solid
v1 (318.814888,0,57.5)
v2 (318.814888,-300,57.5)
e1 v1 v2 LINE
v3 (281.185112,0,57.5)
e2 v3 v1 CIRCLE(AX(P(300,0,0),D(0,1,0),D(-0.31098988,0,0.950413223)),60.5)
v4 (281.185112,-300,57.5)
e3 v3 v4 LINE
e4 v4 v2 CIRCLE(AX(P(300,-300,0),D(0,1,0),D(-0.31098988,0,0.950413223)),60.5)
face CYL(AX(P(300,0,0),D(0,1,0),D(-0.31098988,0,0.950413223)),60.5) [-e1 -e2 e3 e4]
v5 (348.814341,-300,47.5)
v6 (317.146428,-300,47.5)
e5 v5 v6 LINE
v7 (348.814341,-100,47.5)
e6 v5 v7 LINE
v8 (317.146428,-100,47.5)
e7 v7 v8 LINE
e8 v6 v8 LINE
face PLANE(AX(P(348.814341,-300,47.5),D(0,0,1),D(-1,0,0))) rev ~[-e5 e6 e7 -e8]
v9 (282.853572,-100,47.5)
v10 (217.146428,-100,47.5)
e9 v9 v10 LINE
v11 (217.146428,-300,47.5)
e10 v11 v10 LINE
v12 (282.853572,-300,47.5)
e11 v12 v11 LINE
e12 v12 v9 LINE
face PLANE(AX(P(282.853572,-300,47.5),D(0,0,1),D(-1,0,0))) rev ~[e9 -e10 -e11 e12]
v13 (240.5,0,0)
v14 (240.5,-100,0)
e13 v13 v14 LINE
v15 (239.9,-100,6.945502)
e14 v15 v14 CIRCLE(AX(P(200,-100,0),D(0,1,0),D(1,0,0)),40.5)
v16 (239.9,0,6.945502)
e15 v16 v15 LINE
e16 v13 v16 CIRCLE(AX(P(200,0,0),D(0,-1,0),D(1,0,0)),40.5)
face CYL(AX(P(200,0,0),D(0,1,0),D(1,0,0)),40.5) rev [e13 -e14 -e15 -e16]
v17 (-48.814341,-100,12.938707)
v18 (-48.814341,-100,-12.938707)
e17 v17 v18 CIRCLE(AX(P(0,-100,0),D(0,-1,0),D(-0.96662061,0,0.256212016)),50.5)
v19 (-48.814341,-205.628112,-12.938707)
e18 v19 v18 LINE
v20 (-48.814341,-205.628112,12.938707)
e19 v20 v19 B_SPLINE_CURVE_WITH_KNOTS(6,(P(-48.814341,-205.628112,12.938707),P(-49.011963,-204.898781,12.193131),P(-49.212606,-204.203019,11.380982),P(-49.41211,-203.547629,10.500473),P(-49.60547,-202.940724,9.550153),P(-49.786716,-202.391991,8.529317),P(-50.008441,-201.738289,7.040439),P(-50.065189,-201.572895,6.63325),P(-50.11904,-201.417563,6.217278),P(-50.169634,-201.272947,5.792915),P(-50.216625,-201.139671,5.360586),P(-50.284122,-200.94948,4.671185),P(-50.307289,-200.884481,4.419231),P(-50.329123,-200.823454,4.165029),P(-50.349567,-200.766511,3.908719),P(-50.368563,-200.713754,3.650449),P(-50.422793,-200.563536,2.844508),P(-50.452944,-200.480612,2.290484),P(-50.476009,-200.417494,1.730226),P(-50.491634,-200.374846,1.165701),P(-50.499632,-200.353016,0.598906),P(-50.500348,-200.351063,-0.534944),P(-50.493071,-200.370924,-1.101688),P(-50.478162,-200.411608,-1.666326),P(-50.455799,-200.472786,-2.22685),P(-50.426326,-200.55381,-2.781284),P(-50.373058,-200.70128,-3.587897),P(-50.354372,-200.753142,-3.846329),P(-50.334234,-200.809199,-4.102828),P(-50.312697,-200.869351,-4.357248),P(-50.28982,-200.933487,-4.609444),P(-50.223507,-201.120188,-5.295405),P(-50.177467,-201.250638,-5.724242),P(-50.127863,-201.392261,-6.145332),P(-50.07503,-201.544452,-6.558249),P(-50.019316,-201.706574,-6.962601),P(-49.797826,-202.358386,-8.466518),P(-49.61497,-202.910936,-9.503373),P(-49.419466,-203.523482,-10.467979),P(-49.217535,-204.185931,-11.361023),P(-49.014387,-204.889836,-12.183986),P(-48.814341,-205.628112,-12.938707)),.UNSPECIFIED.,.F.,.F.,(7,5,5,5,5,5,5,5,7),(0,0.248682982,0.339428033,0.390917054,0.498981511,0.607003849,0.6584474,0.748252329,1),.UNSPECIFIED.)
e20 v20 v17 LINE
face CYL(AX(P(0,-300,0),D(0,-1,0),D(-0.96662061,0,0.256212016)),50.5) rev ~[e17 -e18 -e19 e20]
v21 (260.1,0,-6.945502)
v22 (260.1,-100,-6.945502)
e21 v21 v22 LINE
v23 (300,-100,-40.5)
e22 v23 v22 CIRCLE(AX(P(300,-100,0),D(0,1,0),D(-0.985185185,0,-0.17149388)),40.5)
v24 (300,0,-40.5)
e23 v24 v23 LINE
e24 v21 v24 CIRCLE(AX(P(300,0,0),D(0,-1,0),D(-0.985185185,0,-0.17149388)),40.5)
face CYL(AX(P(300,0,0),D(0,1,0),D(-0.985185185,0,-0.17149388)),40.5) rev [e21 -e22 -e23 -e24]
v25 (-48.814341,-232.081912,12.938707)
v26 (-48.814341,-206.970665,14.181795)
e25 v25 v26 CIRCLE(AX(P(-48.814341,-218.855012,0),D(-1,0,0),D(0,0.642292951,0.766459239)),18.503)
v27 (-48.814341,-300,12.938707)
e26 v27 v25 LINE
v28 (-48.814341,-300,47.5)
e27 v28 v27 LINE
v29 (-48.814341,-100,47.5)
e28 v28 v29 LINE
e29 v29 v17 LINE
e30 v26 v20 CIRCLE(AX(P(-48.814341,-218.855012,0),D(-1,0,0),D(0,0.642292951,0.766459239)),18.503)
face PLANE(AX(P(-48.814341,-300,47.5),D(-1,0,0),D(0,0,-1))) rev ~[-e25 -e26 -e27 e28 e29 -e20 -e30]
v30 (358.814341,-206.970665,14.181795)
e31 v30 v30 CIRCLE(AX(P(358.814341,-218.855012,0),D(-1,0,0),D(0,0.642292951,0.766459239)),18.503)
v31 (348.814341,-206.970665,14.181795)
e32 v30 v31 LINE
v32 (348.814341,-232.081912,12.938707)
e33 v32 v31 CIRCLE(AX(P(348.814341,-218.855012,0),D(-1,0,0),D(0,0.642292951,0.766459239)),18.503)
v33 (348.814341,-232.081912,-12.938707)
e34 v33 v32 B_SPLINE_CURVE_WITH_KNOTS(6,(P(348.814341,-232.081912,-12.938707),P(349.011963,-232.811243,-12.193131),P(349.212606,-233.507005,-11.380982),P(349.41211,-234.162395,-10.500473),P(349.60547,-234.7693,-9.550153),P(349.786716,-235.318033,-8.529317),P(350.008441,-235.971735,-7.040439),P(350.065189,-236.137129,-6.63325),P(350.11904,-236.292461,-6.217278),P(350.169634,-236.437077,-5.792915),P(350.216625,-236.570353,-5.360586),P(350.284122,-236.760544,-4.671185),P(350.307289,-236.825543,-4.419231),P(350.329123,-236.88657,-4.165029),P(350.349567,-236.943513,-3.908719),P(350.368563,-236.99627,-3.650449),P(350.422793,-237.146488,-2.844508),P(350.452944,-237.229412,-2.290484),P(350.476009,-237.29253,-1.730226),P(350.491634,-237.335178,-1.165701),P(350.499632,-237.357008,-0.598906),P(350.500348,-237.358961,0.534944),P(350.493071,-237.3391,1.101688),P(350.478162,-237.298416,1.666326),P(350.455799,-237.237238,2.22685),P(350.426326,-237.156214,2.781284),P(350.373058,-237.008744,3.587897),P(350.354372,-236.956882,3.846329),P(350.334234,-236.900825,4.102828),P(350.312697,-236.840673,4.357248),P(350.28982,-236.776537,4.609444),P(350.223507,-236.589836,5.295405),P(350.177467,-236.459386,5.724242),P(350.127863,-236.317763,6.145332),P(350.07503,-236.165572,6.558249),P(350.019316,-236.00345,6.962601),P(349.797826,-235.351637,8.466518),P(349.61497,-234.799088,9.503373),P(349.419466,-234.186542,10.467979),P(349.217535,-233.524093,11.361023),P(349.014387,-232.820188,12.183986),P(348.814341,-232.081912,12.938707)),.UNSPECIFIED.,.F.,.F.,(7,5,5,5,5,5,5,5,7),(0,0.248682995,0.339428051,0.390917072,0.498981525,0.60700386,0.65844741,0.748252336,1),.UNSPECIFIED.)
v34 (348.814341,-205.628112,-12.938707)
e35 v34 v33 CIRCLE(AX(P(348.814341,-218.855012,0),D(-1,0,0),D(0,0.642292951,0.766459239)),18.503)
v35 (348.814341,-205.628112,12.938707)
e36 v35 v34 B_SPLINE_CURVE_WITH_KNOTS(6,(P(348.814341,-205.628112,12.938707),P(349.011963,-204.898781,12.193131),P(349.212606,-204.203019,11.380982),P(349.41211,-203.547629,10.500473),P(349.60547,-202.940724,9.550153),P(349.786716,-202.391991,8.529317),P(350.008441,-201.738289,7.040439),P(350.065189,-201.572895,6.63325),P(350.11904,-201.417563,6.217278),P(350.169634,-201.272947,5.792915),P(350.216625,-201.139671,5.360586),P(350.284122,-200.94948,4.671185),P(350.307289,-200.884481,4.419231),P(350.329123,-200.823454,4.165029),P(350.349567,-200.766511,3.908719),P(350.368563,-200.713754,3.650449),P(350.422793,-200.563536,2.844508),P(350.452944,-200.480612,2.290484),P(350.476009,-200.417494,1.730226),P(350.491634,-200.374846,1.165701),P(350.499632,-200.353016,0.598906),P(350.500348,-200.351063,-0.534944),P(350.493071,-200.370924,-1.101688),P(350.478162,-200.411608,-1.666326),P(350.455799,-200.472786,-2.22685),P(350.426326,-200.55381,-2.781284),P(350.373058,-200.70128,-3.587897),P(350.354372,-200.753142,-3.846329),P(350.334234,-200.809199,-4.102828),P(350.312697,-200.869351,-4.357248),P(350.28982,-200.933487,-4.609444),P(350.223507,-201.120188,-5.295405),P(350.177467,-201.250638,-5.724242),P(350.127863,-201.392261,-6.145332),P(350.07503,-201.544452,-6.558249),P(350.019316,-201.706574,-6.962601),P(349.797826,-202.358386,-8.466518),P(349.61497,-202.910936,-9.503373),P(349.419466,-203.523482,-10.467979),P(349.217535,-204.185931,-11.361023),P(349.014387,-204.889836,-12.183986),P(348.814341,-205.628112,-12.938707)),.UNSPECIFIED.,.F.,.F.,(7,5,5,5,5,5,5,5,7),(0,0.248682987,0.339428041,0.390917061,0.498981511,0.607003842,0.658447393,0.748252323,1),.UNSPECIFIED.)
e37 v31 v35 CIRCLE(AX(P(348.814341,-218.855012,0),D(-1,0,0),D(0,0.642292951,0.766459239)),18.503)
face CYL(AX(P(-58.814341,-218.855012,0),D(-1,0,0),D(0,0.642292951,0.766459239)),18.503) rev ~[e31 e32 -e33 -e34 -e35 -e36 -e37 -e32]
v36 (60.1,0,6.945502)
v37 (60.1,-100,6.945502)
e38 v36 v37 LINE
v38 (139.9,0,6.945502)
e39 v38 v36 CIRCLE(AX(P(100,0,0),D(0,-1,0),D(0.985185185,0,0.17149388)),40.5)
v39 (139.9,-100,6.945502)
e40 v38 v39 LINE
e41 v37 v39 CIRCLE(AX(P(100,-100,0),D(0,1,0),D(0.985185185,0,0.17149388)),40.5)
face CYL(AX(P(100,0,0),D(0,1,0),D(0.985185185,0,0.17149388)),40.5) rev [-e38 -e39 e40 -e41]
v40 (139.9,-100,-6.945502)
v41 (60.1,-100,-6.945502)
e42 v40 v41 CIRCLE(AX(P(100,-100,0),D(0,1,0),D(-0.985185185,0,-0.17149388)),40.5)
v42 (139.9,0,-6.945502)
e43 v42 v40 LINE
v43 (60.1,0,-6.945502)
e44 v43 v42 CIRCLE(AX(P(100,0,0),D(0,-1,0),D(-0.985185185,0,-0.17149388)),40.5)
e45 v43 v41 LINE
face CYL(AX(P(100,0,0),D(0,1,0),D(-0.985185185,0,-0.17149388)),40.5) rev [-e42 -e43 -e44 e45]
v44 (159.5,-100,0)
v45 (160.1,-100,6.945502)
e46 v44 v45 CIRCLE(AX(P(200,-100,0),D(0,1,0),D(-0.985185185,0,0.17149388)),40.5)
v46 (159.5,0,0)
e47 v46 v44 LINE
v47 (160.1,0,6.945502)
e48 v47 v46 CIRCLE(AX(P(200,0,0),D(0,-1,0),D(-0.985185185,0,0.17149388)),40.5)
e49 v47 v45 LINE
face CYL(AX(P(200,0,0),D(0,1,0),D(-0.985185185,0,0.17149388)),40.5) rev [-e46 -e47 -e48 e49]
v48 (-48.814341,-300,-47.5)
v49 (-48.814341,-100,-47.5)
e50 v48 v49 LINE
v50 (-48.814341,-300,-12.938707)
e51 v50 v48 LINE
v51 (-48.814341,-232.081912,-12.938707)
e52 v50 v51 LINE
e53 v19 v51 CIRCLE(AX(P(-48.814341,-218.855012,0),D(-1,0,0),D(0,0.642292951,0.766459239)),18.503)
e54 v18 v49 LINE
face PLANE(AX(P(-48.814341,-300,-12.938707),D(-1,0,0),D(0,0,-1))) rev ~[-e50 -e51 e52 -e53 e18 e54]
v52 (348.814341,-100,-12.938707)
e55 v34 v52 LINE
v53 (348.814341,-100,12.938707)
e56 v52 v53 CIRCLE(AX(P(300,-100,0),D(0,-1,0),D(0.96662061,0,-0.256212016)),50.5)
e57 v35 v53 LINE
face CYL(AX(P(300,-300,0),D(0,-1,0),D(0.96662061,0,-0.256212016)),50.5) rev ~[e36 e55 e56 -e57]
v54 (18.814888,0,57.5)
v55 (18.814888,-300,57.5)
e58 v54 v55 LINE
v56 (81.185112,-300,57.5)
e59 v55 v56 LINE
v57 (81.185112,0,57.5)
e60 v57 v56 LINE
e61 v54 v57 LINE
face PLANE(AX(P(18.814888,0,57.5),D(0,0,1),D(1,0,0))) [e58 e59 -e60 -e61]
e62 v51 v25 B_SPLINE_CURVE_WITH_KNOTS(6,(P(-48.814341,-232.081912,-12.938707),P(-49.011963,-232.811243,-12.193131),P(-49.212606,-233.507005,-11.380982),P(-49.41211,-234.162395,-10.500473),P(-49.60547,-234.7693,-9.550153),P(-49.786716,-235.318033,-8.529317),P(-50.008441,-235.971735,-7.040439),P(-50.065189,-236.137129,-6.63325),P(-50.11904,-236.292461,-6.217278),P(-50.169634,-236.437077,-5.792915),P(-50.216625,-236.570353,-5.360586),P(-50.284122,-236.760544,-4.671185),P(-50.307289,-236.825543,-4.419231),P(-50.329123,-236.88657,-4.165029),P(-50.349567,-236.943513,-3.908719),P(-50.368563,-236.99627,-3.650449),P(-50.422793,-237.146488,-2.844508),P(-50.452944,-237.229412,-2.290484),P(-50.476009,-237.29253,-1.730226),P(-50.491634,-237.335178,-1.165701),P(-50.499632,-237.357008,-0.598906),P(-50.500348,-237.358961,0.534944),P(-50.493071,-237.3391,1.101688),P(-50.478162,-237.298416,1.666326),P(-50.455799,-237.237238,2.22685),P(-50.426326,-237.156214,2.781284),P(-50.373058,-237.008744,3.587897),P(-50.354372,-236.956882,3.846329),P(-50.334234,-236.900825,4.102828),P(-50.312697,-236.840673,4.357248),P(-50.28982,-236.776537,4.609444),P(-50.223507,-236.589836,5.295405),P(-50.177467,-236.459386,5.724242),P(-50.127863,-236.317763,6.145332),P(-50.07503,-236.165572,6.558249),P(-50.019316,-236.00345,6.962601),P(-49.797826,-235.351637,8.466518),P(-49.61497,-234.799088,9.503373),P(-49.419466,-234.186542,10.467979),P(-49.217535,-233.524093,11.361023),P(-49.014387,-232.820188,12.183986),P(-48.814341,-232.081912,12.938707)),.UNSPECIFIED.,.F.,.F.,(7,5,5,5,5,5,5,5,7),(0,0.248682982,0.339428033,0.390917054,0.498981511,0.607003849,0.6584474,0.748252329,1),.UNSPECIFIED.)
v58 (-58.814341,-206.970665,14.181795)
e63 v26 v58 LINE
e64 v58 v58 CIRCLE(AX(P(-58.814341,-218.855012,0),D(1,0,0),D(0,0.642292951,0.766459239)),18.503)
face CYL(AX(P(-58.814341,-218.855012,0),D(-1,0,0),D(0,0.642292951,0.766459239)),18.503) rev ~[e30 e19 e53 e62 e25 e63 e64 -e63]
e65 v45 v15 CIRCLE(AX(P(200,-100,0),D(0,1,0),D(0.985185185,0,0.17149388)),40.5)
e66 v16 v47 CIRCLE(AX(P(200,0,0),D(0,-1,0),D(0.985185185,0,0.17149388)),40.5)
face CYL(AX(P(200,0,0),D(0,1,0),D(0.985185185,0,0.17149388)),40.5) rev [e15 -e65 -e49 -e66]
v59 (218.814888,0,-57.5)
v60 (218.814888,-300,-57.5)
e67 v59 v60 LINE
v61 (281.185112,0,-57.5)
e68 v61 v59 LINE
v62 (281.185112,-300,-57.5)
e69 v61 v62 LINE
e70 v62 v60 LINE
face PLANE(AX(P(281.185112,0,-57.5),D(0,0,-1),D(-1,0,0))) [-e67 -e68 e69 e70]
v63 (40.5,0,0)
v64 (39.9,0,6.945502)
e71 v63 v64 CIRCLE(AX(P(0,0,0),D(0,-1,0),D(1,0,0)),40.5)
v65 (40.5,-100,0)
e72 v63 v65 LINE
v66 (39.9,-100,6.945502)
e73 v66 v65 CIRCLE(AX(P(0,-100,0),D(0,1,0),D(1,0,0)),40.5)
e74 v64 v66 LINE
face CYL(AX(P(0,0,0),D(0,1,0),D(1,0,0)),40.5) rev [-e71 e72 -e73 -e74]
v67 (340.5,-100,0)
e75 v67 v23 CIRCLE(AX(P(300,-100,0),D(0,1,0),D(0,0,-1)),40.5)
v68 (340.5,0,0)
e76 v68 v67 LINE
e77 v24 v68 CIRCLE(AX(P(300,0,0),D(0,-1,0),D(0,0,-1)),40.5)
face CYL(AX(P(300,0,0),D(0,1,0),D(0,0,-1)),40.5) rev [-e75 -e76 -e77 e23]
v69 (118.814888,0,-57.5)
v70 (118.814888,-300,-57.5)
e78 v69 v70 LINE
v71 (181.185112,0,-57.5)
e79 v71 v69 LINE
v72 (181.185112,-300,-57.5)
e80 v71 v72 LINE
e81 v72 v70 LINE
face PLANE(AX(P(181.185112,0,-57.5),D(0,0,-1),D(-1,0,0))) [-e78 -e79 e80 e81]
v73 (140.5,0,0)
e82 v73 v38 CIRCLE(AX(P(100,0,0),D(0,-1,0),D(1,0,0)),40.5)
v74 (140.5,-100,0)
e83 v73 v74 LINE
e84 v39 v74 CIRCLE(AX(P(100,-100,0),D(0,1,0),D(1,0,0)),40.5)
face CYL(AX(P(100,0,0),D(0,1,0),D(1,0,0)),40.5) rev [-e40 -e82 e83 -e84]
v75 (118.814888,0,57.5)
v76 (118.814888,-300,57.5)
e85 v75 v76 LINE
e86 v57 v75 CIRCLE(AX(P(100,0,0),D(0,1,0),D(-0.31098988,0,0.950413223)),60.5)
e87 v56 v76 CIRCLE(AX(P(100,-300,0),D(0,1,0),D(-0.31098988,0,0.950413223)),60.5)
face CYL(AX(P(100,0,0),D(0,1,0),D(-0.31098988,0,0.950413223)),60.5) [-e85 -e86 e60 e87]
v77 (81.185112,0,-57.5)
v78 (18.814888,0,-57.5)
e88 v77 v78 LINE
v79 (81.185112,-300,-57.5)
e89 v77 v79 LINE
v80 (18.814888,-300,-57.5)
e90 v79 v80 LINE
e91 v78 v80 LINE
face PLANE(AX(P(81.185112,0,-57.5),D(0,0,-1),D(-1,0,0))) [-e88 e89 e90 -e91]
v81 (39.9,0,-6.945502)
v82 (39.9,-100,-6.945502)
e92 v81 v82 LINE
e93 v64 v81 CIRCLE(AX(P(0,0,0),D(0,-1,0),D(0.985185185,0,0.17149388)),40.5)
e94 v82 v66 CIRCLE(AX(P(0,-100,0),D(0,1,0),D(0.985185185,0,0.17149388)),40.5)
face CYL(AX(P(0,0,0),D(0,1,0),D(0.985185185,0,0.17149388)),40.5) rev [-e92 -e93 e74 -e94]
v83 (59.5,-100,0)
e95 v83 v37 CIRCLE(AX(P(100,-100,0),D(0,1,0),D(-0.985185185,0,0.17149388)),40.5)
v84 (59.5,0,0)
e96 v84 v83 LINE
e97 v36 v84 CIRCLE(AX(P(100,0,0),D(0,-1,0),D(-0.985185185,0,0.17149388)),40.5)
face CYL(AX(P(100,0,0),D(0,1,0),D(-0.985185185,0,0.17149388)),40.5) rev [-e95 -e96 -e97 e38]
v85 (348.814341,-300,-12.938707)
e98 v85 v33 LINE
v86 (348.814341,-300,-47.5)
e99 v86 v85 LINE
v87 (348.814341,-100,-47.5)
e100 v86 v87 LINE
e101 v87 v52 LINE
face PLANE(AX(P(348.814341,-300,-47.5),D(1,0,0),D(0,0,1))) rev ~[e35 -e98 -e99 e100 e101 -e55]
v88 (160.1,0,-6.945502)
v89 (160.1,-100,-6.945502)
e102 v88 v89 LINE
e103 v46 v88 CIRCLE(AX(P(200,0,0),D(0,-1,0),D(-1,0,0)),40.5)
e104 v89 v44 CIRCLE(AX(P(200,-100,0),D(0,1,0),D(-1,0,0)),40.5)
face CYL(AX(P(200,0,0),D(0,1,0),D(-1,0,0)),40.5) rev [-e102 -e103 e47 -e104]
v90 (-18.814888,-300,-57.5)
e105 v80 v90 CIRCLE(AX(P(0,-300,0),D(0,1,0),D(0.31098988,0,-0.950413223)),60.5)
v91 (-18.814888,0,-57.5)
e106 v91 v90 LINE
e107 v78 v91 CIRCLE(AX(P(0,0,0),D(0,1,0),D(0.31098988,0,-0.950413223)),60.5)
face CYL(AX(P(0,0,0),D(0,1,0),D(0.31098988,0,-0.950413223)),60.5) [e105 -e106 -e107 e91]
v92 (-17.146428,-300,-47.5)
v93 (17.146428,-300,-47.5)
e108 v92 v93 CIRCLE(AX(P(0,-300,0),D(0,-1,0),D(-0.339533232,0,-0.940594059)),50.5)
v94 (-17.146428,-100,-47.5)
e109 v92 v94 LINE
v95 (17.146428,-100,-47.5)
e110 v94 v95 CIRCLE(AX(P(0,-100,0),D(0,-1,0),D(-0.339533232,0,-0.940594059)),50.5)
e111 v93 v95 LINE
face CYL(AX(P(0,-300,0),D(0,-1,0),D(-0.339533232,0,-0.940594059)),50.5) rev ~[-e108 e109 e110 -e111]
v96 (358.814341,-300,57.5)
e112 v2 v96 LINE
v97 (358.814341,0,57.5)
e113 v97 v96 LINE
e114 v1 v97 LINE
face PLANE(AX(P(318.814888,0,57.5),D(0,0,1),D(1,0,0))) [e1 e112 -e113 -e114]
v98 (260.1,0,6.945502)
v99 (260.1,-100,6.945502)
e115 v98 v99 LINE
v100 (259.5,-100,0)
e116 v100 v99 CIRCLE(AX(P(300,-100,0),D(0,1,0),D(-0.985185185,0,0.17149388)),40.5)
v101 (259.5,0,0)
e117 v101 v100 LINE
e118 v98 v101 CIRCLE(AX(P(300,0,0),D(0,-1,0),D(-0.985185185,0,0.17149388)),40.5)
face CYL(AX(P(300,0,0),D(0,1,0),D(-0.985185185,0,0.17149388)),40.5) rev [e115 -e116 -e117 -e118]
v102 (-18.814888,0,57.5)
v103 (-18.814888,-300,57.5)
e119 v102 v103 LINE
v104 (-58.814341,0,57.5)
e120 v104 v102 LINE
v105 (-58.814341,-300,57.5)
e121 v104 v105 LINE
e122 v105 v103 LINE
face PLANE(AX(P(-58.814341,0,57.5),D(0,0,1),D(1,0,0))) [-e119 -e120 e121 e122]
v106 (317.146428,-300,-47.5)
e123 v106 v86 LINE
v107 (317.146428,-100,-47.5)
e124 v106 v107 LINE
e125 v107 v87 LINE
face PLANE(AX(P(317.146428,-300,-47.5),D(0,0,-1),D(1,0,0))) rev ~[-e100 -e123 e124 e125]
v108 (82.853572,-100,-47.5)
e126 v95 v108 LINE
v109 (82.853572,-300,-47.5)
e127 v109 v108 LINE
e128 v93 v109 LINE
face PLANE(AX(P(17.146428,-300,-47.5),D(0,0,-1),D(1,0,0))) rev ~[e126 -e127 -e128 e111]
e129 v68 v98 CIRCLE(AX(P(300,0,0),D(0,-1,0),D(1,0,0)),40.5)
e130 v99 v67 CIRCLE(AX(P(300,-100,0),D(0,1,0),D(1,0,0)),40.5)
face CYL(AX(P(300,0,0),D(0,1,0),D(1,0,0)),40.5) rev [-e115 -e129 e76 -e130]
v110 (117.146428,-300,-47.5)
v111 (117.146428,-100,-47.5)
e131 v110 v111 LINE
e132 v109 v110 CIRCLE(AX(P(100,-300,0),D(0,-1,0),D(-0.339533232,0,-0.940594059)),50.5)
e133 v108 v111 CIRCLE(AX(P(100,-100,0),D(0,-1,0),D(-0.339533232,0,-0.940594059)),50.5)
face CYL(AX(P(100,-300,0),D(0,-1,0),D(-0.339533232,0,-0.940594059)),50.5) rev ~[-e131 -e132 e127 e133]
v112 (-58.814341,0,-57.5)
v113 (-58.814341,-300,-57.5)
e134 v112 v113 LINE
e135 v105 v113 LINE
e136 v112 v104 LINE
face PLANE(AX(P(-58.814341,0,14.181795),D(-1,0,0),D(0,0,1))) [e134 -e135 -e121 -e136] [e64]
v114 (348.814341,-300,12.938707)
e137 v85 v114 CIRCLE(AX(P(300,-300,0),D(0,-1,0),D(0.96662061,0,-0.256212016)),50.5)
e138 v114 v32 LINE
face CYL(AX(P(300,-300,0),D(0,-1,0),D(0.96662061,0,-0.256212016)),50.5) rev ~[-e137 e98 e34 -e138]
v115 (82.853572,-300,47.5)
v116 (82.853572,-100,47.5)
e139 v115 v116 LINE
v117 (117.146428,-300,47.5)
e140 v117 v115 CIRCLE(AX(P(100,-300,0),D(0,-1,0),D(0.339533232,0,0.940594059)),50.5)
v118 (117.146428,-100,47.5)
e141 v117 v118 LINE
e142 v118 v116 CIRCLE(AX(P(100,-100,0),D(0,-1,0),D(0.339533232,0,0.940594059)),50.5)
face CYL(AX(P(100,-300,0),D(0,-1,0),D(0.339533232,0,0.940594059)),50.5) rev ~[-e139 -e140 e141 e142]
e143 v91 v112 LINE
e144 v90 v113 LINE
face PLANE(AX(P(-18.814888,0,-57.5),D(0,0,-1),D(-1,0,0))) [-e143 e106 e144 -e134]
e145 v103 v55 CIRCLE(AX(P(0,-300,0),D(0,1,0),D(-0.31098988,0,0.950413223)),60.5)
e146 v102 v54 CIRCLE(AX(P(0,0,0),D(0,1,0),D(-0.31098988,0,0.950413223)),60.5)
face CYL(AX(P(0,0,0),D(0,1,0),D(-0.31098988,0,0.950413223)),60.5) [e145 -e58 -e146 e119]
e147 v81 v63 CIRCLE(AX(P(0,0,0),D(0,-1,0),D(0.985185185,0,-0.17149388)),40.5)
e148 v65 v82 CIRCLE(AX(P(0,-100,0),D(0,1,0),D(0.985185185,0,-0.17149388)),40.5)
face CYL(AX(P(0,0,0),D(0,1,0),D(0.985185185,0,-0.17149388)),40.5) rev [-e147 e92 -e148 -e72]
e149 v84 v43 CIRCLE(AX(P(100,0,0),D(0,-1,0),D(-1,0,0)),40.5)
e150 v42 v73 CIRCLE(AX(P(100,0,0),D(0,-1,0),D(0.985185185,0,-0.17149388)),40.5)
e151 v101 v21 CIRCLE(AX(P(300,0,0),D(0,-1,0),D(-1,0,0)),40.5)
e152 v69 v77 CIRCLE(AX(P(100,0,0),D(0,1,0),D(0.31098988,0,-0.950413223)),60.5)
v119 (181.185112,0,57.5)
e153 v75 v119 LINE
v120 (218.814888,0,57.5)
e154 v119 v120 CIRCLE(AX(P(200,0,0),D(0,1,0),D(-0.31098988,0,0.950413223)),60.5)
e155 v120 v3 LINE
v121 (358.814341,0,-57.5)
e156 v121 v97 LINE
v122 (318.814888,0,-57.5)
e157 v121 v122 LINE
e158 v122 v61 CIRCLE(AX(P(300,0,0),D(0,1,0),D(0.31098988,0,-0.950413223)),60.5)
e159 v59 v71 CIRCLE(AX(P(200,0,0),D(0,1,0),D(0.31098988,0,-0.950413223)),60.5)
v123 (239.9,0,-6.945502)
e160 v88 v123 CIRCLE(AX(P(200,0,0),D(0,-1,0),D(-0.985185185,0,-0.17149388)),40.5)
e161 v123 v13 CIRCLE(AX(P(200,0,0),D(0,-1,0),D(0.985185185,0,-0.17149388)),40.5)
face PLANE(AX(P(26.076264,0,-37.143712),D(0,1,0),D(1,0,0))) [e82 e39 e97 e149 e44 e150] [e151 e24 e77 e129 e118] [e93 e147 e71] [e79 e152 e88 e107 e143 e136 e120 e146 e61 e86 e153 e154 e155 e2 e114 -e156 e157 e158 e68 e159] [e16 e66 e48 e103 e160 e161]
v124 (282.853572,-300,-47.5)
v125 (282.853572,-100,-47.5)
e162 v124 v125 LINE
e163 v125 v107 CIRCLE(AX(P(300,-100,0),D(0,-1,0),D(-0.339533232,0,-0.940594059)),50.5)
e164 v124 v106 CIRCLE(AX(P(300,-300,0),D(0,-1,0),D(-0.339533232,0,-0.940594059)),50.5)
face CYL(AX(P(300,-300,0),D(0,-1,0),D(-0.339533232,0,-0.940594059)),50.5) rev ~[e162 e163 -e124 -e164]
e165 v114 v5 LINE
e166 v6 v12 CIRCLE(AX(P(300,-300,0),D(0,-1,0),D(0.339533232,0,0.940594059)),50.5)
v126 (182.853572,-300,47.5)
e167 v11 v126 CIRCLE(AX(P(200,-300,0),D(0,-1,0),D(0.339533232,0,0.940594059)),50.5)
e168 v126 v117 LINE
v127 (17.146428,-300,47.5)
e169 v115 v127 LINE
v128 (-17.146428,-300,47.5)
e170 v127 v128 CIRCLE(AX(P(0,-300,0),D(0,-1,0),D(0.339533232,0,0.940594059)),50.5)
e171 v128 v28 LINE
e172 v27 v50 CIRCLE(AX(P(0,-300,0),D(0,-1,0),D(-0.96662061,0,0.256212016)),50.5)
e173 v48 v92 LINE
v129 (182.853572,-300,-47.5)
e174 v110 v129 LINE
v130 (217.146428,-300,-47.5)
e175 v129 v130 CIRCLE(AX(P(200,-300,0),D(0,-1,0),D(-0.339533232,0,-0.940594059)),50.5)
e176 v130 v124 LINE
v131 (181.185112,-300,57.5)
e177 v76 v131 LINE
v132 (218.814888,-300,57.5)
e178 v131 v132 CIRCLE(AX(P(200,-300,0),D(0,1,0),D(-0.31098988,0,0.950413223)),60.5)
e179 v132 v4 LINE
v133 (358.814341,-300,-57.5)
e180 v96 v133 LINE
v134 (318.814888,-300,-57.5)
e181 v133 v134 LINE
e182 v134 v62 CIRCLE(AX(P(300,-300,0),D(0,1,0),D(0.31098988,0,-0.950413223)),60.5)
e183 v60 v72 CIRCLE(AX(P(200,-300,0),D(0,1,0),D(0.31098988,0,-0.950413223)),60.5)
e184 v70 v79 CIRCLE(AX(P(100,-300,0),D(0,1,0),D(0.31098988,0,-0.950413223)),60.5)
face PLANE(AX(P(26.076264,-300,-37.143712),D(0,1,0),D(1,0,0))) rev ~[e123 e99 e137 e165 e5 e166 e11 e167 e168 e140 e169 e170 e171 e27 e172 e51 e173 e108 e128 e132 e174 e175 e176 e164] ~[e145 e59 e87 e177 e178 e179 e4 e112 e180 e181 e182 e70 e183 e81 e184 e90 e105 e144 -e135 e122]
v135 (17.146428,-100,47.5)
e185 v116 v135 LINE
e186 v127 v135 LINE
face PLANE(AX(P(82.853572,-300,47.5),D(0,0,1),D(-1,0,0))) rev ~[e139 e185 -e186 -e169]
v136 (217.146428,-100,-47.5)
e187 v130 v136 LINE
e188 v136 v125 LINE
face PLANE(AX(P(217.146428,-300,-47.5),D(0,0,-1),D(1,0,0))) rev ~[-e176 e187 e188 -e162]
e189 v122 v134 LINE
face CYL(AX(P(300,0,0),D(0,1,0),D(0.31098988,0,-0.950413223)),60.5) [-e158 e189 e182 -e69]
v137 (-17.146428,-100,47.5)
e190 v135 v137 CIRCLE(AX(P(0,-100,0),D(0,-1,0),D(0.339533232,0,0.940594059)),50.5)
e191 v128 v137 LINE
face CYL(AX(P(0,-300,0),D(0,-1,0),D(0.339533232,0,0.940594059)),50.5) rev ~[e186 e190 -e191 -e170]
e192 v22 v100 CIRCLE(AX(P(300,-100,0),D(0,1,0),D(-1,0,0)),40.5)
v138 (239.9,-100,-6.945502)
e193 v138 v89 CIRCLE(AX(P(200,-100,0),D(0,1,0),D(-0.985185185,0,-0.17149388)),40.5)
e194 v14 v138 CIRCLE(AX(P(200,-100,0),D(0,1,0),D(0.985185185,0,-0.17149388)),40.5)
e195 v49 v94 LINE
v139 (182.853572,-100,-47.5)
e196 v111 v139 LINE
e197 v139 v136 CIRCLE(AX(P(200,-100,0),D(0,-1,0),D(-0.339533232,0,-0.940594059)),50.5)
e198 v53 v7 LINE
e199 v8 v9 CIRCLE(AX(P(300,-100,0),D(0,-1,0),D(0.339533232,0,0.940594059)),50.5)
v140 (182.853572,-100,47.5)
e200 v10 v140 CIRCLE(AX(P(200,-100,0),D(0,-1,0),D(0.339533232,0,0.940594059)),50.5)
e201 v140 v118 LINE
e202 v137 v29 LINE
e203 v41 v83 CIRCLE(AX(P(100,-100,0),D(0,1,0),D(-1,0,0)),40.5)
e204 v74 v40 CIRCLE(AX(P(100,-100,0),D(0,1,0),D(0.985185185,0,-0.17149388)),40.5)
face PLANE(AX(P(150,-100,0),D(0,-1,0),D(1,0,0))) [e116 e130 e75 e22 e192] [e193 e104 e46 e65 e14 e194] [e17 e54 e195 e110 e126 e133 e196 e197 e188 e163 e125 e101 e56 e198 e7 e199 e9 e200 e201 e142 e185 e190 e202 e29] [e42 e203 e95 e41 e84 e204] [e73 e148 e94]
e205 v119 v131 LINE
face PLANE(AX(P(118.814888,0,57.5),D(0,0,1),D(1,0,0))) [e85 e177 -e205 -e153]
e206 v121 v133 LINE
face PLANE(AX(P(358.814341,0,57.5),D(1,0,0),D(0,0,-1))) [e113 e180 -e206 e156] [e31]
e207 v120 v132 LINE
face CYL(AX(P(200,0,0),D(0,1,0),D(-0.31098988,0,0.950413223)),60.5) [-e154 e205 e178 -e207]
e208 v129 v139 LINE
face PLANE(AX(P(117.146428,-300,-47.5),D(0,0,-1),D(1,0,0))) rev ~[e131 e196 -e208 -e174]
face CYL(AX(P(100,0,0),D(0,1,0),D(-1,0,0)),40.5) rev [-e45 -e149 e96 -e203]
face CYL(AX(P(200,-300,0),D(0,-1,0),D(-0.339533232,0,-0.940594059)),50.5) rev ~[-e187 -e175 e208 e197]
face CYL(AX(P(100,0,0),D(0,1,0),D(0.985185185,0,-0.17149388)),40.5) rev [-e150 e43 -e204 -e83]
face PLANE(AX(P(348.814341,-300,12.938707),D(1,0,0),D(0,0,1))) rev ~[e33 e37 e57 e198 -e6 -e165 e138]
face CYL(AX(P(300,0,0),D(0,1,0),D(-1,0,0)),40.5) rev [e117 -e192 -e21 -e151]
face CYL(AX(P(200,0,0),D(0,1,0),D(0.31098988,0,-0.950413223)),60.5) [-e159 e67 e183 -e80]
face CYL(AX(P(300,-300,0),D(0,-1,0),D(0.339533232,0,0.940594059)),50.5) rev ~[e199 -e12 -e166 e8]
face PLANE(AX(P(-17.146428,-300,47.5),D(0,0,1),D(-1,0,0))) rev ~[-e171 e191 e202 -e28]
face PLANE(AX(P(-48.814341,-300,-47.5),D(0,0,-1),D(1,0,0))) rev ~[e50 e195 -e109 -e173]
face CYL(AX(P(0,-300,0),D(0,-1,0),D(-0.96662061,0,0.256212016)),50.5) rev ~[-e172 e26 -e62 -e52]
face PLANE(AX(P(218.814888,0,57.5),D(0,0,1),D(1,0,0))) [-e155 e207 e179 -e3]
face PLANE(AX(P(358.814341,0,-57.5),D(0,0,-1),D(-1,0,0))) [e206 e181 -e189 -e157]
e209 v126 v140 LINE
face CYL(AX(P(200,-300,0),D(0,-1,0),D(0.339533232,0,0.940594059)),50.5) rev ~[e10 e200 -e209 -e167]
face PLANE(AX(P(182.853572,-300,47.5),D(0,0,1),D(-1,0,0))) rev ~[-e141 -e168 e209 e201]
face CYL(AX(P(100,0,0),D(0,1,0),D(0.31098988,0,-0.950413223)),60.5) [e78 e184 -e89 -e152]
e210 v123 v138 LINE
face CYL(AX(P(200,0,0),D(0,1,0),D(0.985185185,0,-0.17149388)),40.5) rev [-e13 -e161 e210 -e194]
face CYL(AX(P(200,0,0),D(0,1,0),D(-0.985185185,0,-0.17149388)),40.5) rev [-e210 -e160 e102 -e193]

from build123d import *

# Parameters (mm, degrees)
BOSS_EXTRUDE2_DEPTH = 300
CUT_EXTRUDE1_DEPTH  = 200
SKETCH4_R           = 18.503
CUT_EXTRUDE2_DEPTH  = 500
CUT_EXTRUDE3_DEPTH  = 300


with BuildPart() as part:
    # Sketch1 → Boss-Extrude2 (new body)
    with BuildSketch(Plane(origin=(0, 0, 0), x_dir=(1, 0, 0), z_dir=(0, 1, 0))):
        with BuildLine():
            ThreePointArc((39.9, 6.945502142), (43.30489778, 21.11670865), (50, 34.062442661))
            ThreePointArc((50, 34.062442661), (36.348342006, 48.363705745), (18.814887722, 57.5))
            Line((18.814887722, 57.5), (0, 57.5))
            Line((0, 57.5), (0, 40.5))
            ThreePointArc((0, 40.5), (26.066809963, 30.99631298), (39.9, 6.945502142))
        make_face()
        with BuildLine():
            ThreePointArc((0, -40.5), (-40.5, 0), (0, 40.5))
            Line((0, 40.5), (0, 57.5))
            Line((0, 57.5), (-18.814887722, 57.5))
            ThreePointArc((-18.814887722, 57.5), (-44.4487457, 41.04337956), (-58.814340786, 14.181795299))
            Line((-58.814340786, 14.181795299), (-58.814340786, -14.181795299))
            ThreePointArc((-58.814340786, -14.181795299), (-44.4487457, -41.04337956), (-18.814887722, -57.5))
            Line((-18.814887722, -57.5), (0, -57.5))
            Line((0, -57.5), (0, -40.5))
        make_face()
        with BuildLine():
            ThreePointArc((18.814887722, -57.5), (36.348342006, -48.363705745), (50, -34.062442661))
            ThreePointArc((50, -34.062442661), (43.30489778, -21.11670865), (39.9, -6.945502142))
            ThreePointArc((39.9, -6.945502142), (26.066809963, -30.99631298), (0, -40.5))
            Line((0, -40.5), (0, -57.5))
            Line((0, -57.5), (18.814887722, -57.5))
        make_face()
        with BuildLine():
            ThreePointArc((60.1, -6.945502142), (59.650278811, -3.485685012), (59.5, 0))
            Line((59.5, 0), (40.5, 0))
            ThreePointArc((40.5, 0), (40.349721189, -3.485685012), (39.9, -6.945502142))
            ThreePointArc((39.9, -6.945502142), (43.30489778, -21.11670865), (50, -34.062442661))
            ThreePointArc((50, -34.062442661), (56.69510222, -21.11670865), (60.1, -6.945502142))
        make_face()
        with BuildLine():
            Line((40.5, 0), (59.5, 0))
            ThreePointArc((59.5, 0), (59.650278811, 3.485685012), (60.1, 6.945502142))
            ThreePointArc((60.1, 6.945502142), (56.69510222, 21.11670865), (50, 34.062442661))
            ThreePointArc((50, 34.062442661), (43.30489778, 21.11670865), (39.9, 6.945502142))
            ThreePointArc((39.9, 6.945502142), (40.349721189, 3.485685012), (40.5, 0))
        make_face()
        with BuildLine():
            ThreePointArc((139.9, -6.945502142), (100, -40.5), (60.1, -6.945502142))
            ThreePointArc((60.1, -6.945502142), (56.69510222, -21.11670865), (50, -34.062442661))
            ThreePointArc((50, -34.062442661), (63.651657994, -48.363705745), (81.185112278, -57.5))
            Line((81.185112278, -57.5), (118.814887722, -57.5))
            ThreePointArc((118.814887722, -57.5), (136.348342006, -48.363705745), (150, -34.062442661))
            ThreePointArc((150, -34.062442661), (143.30489778, -21.11670865), (139.9, -6.945502142))
        make_face()
        with BuildLine():
            ThreePointArc((50, 34.062442661), (56.69510222, 21.11670865), (60.1, 6.945502142))
            ThreePointArc((60.1, 6.945502142), (100, 40.5), (139.9, 6.945502142))
            ThreePointArc((139.9, 6.945502142), (143.30489778, 21.11670865), (150, 34.062442661))
            ThreePointArc((150, 34.062442661), (136.348342006, 48.363705745), (118.814887722, 57.5))
            Line((118.814887722, 57.5), (81.185112278, 57.5))
            ThreePointArc((81.185112278, 57.5), (63.651657994, 48.363705745), (50, 34.062442661))
        make_face()
        with BuildLine():
            ThreePointArc((150, 34.062442661), (143.30489778, 21.11670865), (139.9, 6.945502142))
            ThreePointArc((139.9, 6.945502142), (140.349721189, 3.485685012), (140.5, 0))
            Line((140.5, 0), (159.5, 0))
            ThreePointArc((159.5, 0), (159.650278811, 3.485685012), (160.1, 6.945502142))
            ThreePointArc((160.1, 6.945502142), (156.69510222, 21.11670865), (150, 34.062442661))
        make_face()
        with BuildLine():
            ThreePointArc((140.5, 0), (140.349721189, -3.485685012), (139.9, -6.945502142))
            ThreePointArc((139.9, -6.945502142), (143.30489778, -21.11670865), (150, -34.062442661))
            ThreePointArc((150, -34.062442661), (156.69510222, -21.11670865), (160.1, -6.945502142))
            ThreePointArc((160.1, -6.945502142), (159.650278811, -3.485685012), (159.5, 0))
            Line((159.5, 0), (140.5, 0))
        make_face()
        with BuildLine():
            ThreePointArc((181.185112278, 57.5), (163.651657994, 48.363705745), (150, 34.062442661))
            ThreePointArc((150, 34.062442661), (156.69510222, 21.11670865), (160.1, 6.945502142))
            ThreePointArc((160.1, 6.945502142), (200, 40.5), (239.9, 6.945502142))
            ThreePointArc((239.9, 6.945502142), (243.30489778, 21.11670865), (250, 34.062442661))
            ThreePointArc((250, 34.062442661), (236.348342006, 48.363705745), (218.814887722, 57.5))
            Line((218.814887722, 57.5), (181.185112278, 57.5))
        make_face()
        with BuildLine():
            ThreePointArc((160.1, -6.945502142), (156.69510222, -21.11670865), (150, -34.062442661))
            ThreePointArc((150, -34.062442661), (163.651657994, -48.363705745), (181.185112278, -57.5))
            Line((181.185112278, -57.5), (218.814887722, -57.5))
            ThreePointArc((218.814887722, -57.5), (236.348342006, -48.363705745), (250, -34.062442661))
            ThreePointArc((250, -34.062442661), (243.30489778, -21.11670865), (239.9, -6.945502142))
            ThreePointArc((239.9, -6.945502142), (200, -40.5), (160.1, -6.945502142))
        make_face()
        with BuildLine():
            ThreePointArc((250, 34.062442661), (243.30489778, 21.11670865), (239.9, 6.945502142))
            ThreePointArc((239.9, 6.945502142), (240.349721189, 3.485685012), (240.5, 0))
            Line((240.5, 0), (259.5, 0))
            ThreePointArc((259.5, 0), (259.650278811, 3.485685012), (260.1, 6.945502142))
            ThreePointArc((260.1, 6.945502142), (256.69510222, 21.11670865), (250, 34.062442661))
        make_face()
        with BuildLine():
            ThreePointArc((240.5, 0), (240.349721189, -3.485685012), (239.9, -6.945502142))
            ThreePointArc((239.9, -6.945502142), (243.30489778, -21.11670865), (250, -34.062442661))
            ThreePointArc((250, -34.062442661), (256.69510222, -21.11670865), (260.1, -6.945502142))
            ThreePointArc((260.1, -6.945502142), (259.650278811, -3.485685012), (259.5, 0))
            Line((259.5, 0), (240.5, 0))
        make_face()
        with BuildLine():
            ThreePointArc((281.185112278, 57.5), (263.651657994, 48.363705745), (250, 34.062442661))
            ThreePointArc((250, 34.062442661), (256.69510222, 21.11670865), (260.1, 6.945502142))
            ThreePointArc((260.1, 6.945502142), (273.933190037, 30.99631298), (300, 40.5))
            Line((300, 40.5), (300, 57.5))
            Line((300, 57.5), (281.185112278, 57.5))
        make_face()
        with BuildLine():
            ThreePointArc((260.1, -6.945502142), (256.69510222, -21.11670865), (250, -34.062442661))
            ThreePointArc((250, -34.062442661), (263.651657994, -48.363705745), (281.185112278, -57.5))
            Line((281.185112278, -57.5), (300, -57.5))
            Line((300, -57.5), (318.814887722, -57.5))
            ThreePointArc((318.814887722, -57.5), (344.4487457, -41.04337956), (358.814340786, -14.181795299))
            Line((358.814340786, -14.181795299), (358.814340786, 14.181795299))
            ThreePointArc((358.814340786, 14.181795299), (344.4487457, 41.04337956), (318.814887722, 57.5))
            Line((318.814887722, 57.5), (300, 57.5))
            Line((300, 57.5), (300, 40.5))
            ThreePointArc((300, 40.5), (328.637824638, 28.637824638), (340.5, 0))
            ThreePointArc((340.5, 0), (303.485685012, -40.349721189), (260.1, -6.945502142))
        make_face()
        with BuildLine():
            ThreePointArc((81.185112278, -57.5), (63.651657994, -48.363705745), (50, -34.062442661))
            ThreePointArc((50, -34.062442661), (36.348342006, -48.363705745), (18.814887722, -57.5))
            Line((18.814887722, -57.5), (81.185112278, -57.5))
        make_face()
        with BuildLine():
            ThreePointArc((181.185112278, -57.5), (163.651657994, -48.363705745), (150, -34.062442661))
            ThreePointArc((150, -34.062442661), (136.348342006, -48.363705745), (118.814887722, -57.5))
            Line((118.814887722, -57.5), (181.185112278, -57.5))
        make_face()
        with BuildLine():
            ThreePointArc((250, -34.062442661), (236.348342006, -48.363705745), (218.814887722, -57.5))
            Line((218.814887722, -57.5), (281.185112278, -57.5))
            ThreePointArc((281.185112278, -57.5), (263.651657994, -48.363705745), (250, -34.062442661))
        make_face()
        with BuildLine():
            ThreePointArc((18.814887722, 57.5), (36.348342006, 48.363705745), (50, 34.062442661))
            ThreePointArc((50, 34.062442661), (63.651657994, 48.363705745), (81.185112278, 57.5))
            Line((81.185112278, 57.5), (18.814887722, 57.5))
        make_face()
        with BuildLine():
            ThreePointArc((118.814887722, 57.5), (136.348342006, 48.363705745), (150, 34.062442661))
            ThreePointArc((150, 34.062442661), (163.651657994, 48.363705745), (181.185112278, 57.5))
            Line((181.185112278, 57.5), (118.814887722, 57.5))
        make_face()
        with BuildLine():
            Line((281.185112278, 57.5), (218.814887722, 57.5))
            ThreePointArc((218.814887722, 57.5), (236.348342006, 48.363705745), (250, 34.062442661))
            ThreePointArc((250, 34.062442661), (263.651657994, 48.363705745), (281.185112278, 57.5))
        make_face()
        with BuildLine():
            ThreePointArc((358.814340786, -14.181795299), (344.4487457, -41.04337956), (318.814887722, -57.5))
            Line((318.814887722, -57.5), (358.814340786, -57.5))
            Line((358.814340786, -57.5), (358.814340786, -14.181795299))
        make_face()
        with BuildLine():
            Line((358.814340786, 57.5), (318.814887722, 57.5))
            ThreePointArc((318.814887722, 57.5), (344.4487457, 41.04337956), (358.814340786, 14.181795299))
            Line((358.814340786, 14.181795299), (358.814340786, 57.5))
        make_face()
        with BuildLine():
            ThreePointArc((-58.814340786, 14.181795299), (-44.4487457, 41.04337956), (-18.814887722, 57.5))
            Line((-18.814887722, 57.5), (-58.814340786, 57.5))
            Line((-58.814340786, 57.5), (-58.814340786, 14.181795299))
        make_face()
        with BuildLine():
            Line((-58.814340786, -57.5), (-18.814887722, -57.5))
            ThreePointArc((-18.814887722, -57.5), (-44.4487457, -41.04337956), (-58.814340786, -14.181795299))
            Line((-58.814340786, -14.181795299), (-58.814340786, -57.5))
        make_face()
        with BuildLine():
            Line((0, 57.5), (18.814887722, 57.5))
            ThreePointArc((18.814887722, 57.5), (0, 60.5), (-18.814887722, 57.5))
            Line((-18.814887722, 57.5), (0, 57.5))
        make_face()
        with BuildLine():
            ThreePointArc((118.814887722, 57.5), (100, 60.5), (81.185112278, 57.5))
            Line((81.185112278, 57.5), (118.814887722, 57.5))
        make_face()
        with BuildLine():
            ThreePointArc((218.814887722, 57.5), (200, 60.5), (181.185112278, 57.5))
            Line((181.185112278, 57.5), (218.814887722, 57.5))
        make_face()
        with BuildLine():
            ThreePointArc((318.814887722, 57.5), (300, 60.5), (281.185112278, 57.5))
            Line((281.185112278, 57.5), (300, 57.5))
            Line((300, 57.5), (318.814887722, 57.5))
        make_face()
        with BuildLine():
            Line((300, -57.5), (281.185112278, -57.5))
            ThreePointArc((281.185112278, -57.5), (300, -60.5), (318.814887722, -57.5))
            Line((318.814887722, -57.5), (300, -57.5))
        make_face()
        with BuildLine():
            Line((218.814887722, -57.5), (181.185112278, -57.5))
            ThreePointArc((181.185112278, -57.5), (200, -60.5), (218.814887722, -57.5))
        make_face()
        with BuildLine():
            Line((118.814887722, -57.5), (81.185112278, -57.5))
            ThreePointArc((81.185112278, -57.5), (100, -60.5), (118.814887722, -57.5))
        make_face()
        with BuildLine():
            ThreePointArc((-18.814887722, -57.5), (0, -60.5), (18.814887722, -57.5))
            Line((18.814887722, -57.5), (0, -57.5))
            Line((0, -57.5), (-18.814887722, -57.5))
        make_face()
        with BuildLine():
            Line((-58.814340786, -14.181795299), (-58.814340786, 14.181795299))
            ThreePointArc((-58.814340786, 14.181795299), (-60.5, 0), (-58.814340786, -14.181795299))
        make_face()
        with BuildLine():
            ThreePointArc((360.5, 0), (360.077107194, 7.140811664), (358.814340786, 14.181795299))
            Line((358.814340786, 14.181795299), (358.814340786, -14.181795299))
            ThreePointArc((358.814340786, -14.181795299), (360.077107194, -7.140811664), (360.5, 0))
        make_face()
    extrude(amount=-BOSS_EXTRUDE2_DEPTH)

    # Sketch2 → Cut-Extrude1 (cut)
    with BuildSketch(Plane.XZ.offset(300)):
        with BuildLine():
            Line((-48.814340786, 47.5), (-48.814340786, 12.938706799))
            ThreePointArc((-48.814340786, 12.938706799), (-50.5, 0), (-48.814340786, -12.938706799))
            Line((-48.814340786, -12.938706799), (-48.814340786, -47.5))
            Line((-48.814340786, -47.5), (-17.146428199, -47.5))
            ThreePointArc((-17.146428199, -47.5), (0, -50.5), (17.146428199, -47.5))
            Line((17.146428199, -47.5), (82.853571801, -47.5))
            ThreePointArc((82.853571801, -47.5), (100, -50.5), (117.146428199, -47.5))
            Line((117.146428199, -47.5), (182.853571801, -47.5))
            ThreePointArc((182.853571801, -47.5), (200, -50.5), (217.146428199, -47.5))
            Line((217.146428199, -47.5), (282.853571801, -47.5))
            ThreePointArc((282.853571801, -47.5), (300, -50.5), (317.146428199, -47.5))
            Line((317.146428199, -47.5), (348.814340786, -47.5))
            Line((348.814340786, -47.5), (348.814340786, -12.938706799))
            ThreePointArc((348.814340786, -12.938706799), (350.5, 0), (348.814340786, 12.938706799))
            Line((348.814340786, 12.938706799), (348.814340786, 47.5))
            Line((348.814340786, 47.5), (317.146428199, 47.5))
            ThreePointArc((317.146428199, 47.5), (300, 50.5), (282.853571801, 47.5))
            Line((282.853571801, 47.5), (217.146428199, 47.5))
            ThreePointArc((217.146428199, 47.5), (200, 50.5), (182.853571801, 47.5))
            Line((182.853571801, 47.5), (117.146428199, 47.5))
            ThreePointArc((117.146428199, 47.5), (100, 50.5), (82.853571801, 47.5))
            Line((82.853571801, 47.5), (17.146428199, 47.5))
            ThreePointArc((17.146428199, 47.5), (0, 50.5), (-17.146428199, 47.5))
            Line((-17.146428199, 47.5), (-48.814340786, 47.5))
        make_face()
    extrude(amount=-CUT_EXTRUDE1_DEPTH, mode=Mode.SUBTRACT)

    # Sketch4 → Cut-Extrude2 (cut, symmetric)
    with BuildSketch(Plane.ZY.offset(58.814340786)):
        with Locations(Location((0, -218.855011971, 0), (0, 0, 39.963012354))):
            Circle(SKETCH4_R)
    extrude(amount=CUT_EXTRUDE2_DEPTH, both=True, mode=Mode.SUBTRACT)

    # Sketch8 → Cut-Extrude3 (cut)
    with BuildSketch(Plane(origin=(0, 0, 0), x_dir=(1, 0, 0), z_dir=(0, 1, 0))):
        with BuildLine():
            Line((-58.814340786, 14.181795299), (-58.814340786, -14.181795299))
            ThreePointArc((-58.814340786, -14.181795299), (-60.5, 0), (-58.814340786, 14.181795299))
        make_face()
        with BuildLine():
            Line((358.814340786, 14.181795299), (358.814340786, -14.181795299))
            ThreePointArc((358.814340786, -14.181795299), (360.5, 0), (358.814340786, 14.181795299))
        make_face()
    extrude(amount=-CUT_EXTRUDE3_DEPTH, mode=Mode.SUBTRACT)


solid = part.part
